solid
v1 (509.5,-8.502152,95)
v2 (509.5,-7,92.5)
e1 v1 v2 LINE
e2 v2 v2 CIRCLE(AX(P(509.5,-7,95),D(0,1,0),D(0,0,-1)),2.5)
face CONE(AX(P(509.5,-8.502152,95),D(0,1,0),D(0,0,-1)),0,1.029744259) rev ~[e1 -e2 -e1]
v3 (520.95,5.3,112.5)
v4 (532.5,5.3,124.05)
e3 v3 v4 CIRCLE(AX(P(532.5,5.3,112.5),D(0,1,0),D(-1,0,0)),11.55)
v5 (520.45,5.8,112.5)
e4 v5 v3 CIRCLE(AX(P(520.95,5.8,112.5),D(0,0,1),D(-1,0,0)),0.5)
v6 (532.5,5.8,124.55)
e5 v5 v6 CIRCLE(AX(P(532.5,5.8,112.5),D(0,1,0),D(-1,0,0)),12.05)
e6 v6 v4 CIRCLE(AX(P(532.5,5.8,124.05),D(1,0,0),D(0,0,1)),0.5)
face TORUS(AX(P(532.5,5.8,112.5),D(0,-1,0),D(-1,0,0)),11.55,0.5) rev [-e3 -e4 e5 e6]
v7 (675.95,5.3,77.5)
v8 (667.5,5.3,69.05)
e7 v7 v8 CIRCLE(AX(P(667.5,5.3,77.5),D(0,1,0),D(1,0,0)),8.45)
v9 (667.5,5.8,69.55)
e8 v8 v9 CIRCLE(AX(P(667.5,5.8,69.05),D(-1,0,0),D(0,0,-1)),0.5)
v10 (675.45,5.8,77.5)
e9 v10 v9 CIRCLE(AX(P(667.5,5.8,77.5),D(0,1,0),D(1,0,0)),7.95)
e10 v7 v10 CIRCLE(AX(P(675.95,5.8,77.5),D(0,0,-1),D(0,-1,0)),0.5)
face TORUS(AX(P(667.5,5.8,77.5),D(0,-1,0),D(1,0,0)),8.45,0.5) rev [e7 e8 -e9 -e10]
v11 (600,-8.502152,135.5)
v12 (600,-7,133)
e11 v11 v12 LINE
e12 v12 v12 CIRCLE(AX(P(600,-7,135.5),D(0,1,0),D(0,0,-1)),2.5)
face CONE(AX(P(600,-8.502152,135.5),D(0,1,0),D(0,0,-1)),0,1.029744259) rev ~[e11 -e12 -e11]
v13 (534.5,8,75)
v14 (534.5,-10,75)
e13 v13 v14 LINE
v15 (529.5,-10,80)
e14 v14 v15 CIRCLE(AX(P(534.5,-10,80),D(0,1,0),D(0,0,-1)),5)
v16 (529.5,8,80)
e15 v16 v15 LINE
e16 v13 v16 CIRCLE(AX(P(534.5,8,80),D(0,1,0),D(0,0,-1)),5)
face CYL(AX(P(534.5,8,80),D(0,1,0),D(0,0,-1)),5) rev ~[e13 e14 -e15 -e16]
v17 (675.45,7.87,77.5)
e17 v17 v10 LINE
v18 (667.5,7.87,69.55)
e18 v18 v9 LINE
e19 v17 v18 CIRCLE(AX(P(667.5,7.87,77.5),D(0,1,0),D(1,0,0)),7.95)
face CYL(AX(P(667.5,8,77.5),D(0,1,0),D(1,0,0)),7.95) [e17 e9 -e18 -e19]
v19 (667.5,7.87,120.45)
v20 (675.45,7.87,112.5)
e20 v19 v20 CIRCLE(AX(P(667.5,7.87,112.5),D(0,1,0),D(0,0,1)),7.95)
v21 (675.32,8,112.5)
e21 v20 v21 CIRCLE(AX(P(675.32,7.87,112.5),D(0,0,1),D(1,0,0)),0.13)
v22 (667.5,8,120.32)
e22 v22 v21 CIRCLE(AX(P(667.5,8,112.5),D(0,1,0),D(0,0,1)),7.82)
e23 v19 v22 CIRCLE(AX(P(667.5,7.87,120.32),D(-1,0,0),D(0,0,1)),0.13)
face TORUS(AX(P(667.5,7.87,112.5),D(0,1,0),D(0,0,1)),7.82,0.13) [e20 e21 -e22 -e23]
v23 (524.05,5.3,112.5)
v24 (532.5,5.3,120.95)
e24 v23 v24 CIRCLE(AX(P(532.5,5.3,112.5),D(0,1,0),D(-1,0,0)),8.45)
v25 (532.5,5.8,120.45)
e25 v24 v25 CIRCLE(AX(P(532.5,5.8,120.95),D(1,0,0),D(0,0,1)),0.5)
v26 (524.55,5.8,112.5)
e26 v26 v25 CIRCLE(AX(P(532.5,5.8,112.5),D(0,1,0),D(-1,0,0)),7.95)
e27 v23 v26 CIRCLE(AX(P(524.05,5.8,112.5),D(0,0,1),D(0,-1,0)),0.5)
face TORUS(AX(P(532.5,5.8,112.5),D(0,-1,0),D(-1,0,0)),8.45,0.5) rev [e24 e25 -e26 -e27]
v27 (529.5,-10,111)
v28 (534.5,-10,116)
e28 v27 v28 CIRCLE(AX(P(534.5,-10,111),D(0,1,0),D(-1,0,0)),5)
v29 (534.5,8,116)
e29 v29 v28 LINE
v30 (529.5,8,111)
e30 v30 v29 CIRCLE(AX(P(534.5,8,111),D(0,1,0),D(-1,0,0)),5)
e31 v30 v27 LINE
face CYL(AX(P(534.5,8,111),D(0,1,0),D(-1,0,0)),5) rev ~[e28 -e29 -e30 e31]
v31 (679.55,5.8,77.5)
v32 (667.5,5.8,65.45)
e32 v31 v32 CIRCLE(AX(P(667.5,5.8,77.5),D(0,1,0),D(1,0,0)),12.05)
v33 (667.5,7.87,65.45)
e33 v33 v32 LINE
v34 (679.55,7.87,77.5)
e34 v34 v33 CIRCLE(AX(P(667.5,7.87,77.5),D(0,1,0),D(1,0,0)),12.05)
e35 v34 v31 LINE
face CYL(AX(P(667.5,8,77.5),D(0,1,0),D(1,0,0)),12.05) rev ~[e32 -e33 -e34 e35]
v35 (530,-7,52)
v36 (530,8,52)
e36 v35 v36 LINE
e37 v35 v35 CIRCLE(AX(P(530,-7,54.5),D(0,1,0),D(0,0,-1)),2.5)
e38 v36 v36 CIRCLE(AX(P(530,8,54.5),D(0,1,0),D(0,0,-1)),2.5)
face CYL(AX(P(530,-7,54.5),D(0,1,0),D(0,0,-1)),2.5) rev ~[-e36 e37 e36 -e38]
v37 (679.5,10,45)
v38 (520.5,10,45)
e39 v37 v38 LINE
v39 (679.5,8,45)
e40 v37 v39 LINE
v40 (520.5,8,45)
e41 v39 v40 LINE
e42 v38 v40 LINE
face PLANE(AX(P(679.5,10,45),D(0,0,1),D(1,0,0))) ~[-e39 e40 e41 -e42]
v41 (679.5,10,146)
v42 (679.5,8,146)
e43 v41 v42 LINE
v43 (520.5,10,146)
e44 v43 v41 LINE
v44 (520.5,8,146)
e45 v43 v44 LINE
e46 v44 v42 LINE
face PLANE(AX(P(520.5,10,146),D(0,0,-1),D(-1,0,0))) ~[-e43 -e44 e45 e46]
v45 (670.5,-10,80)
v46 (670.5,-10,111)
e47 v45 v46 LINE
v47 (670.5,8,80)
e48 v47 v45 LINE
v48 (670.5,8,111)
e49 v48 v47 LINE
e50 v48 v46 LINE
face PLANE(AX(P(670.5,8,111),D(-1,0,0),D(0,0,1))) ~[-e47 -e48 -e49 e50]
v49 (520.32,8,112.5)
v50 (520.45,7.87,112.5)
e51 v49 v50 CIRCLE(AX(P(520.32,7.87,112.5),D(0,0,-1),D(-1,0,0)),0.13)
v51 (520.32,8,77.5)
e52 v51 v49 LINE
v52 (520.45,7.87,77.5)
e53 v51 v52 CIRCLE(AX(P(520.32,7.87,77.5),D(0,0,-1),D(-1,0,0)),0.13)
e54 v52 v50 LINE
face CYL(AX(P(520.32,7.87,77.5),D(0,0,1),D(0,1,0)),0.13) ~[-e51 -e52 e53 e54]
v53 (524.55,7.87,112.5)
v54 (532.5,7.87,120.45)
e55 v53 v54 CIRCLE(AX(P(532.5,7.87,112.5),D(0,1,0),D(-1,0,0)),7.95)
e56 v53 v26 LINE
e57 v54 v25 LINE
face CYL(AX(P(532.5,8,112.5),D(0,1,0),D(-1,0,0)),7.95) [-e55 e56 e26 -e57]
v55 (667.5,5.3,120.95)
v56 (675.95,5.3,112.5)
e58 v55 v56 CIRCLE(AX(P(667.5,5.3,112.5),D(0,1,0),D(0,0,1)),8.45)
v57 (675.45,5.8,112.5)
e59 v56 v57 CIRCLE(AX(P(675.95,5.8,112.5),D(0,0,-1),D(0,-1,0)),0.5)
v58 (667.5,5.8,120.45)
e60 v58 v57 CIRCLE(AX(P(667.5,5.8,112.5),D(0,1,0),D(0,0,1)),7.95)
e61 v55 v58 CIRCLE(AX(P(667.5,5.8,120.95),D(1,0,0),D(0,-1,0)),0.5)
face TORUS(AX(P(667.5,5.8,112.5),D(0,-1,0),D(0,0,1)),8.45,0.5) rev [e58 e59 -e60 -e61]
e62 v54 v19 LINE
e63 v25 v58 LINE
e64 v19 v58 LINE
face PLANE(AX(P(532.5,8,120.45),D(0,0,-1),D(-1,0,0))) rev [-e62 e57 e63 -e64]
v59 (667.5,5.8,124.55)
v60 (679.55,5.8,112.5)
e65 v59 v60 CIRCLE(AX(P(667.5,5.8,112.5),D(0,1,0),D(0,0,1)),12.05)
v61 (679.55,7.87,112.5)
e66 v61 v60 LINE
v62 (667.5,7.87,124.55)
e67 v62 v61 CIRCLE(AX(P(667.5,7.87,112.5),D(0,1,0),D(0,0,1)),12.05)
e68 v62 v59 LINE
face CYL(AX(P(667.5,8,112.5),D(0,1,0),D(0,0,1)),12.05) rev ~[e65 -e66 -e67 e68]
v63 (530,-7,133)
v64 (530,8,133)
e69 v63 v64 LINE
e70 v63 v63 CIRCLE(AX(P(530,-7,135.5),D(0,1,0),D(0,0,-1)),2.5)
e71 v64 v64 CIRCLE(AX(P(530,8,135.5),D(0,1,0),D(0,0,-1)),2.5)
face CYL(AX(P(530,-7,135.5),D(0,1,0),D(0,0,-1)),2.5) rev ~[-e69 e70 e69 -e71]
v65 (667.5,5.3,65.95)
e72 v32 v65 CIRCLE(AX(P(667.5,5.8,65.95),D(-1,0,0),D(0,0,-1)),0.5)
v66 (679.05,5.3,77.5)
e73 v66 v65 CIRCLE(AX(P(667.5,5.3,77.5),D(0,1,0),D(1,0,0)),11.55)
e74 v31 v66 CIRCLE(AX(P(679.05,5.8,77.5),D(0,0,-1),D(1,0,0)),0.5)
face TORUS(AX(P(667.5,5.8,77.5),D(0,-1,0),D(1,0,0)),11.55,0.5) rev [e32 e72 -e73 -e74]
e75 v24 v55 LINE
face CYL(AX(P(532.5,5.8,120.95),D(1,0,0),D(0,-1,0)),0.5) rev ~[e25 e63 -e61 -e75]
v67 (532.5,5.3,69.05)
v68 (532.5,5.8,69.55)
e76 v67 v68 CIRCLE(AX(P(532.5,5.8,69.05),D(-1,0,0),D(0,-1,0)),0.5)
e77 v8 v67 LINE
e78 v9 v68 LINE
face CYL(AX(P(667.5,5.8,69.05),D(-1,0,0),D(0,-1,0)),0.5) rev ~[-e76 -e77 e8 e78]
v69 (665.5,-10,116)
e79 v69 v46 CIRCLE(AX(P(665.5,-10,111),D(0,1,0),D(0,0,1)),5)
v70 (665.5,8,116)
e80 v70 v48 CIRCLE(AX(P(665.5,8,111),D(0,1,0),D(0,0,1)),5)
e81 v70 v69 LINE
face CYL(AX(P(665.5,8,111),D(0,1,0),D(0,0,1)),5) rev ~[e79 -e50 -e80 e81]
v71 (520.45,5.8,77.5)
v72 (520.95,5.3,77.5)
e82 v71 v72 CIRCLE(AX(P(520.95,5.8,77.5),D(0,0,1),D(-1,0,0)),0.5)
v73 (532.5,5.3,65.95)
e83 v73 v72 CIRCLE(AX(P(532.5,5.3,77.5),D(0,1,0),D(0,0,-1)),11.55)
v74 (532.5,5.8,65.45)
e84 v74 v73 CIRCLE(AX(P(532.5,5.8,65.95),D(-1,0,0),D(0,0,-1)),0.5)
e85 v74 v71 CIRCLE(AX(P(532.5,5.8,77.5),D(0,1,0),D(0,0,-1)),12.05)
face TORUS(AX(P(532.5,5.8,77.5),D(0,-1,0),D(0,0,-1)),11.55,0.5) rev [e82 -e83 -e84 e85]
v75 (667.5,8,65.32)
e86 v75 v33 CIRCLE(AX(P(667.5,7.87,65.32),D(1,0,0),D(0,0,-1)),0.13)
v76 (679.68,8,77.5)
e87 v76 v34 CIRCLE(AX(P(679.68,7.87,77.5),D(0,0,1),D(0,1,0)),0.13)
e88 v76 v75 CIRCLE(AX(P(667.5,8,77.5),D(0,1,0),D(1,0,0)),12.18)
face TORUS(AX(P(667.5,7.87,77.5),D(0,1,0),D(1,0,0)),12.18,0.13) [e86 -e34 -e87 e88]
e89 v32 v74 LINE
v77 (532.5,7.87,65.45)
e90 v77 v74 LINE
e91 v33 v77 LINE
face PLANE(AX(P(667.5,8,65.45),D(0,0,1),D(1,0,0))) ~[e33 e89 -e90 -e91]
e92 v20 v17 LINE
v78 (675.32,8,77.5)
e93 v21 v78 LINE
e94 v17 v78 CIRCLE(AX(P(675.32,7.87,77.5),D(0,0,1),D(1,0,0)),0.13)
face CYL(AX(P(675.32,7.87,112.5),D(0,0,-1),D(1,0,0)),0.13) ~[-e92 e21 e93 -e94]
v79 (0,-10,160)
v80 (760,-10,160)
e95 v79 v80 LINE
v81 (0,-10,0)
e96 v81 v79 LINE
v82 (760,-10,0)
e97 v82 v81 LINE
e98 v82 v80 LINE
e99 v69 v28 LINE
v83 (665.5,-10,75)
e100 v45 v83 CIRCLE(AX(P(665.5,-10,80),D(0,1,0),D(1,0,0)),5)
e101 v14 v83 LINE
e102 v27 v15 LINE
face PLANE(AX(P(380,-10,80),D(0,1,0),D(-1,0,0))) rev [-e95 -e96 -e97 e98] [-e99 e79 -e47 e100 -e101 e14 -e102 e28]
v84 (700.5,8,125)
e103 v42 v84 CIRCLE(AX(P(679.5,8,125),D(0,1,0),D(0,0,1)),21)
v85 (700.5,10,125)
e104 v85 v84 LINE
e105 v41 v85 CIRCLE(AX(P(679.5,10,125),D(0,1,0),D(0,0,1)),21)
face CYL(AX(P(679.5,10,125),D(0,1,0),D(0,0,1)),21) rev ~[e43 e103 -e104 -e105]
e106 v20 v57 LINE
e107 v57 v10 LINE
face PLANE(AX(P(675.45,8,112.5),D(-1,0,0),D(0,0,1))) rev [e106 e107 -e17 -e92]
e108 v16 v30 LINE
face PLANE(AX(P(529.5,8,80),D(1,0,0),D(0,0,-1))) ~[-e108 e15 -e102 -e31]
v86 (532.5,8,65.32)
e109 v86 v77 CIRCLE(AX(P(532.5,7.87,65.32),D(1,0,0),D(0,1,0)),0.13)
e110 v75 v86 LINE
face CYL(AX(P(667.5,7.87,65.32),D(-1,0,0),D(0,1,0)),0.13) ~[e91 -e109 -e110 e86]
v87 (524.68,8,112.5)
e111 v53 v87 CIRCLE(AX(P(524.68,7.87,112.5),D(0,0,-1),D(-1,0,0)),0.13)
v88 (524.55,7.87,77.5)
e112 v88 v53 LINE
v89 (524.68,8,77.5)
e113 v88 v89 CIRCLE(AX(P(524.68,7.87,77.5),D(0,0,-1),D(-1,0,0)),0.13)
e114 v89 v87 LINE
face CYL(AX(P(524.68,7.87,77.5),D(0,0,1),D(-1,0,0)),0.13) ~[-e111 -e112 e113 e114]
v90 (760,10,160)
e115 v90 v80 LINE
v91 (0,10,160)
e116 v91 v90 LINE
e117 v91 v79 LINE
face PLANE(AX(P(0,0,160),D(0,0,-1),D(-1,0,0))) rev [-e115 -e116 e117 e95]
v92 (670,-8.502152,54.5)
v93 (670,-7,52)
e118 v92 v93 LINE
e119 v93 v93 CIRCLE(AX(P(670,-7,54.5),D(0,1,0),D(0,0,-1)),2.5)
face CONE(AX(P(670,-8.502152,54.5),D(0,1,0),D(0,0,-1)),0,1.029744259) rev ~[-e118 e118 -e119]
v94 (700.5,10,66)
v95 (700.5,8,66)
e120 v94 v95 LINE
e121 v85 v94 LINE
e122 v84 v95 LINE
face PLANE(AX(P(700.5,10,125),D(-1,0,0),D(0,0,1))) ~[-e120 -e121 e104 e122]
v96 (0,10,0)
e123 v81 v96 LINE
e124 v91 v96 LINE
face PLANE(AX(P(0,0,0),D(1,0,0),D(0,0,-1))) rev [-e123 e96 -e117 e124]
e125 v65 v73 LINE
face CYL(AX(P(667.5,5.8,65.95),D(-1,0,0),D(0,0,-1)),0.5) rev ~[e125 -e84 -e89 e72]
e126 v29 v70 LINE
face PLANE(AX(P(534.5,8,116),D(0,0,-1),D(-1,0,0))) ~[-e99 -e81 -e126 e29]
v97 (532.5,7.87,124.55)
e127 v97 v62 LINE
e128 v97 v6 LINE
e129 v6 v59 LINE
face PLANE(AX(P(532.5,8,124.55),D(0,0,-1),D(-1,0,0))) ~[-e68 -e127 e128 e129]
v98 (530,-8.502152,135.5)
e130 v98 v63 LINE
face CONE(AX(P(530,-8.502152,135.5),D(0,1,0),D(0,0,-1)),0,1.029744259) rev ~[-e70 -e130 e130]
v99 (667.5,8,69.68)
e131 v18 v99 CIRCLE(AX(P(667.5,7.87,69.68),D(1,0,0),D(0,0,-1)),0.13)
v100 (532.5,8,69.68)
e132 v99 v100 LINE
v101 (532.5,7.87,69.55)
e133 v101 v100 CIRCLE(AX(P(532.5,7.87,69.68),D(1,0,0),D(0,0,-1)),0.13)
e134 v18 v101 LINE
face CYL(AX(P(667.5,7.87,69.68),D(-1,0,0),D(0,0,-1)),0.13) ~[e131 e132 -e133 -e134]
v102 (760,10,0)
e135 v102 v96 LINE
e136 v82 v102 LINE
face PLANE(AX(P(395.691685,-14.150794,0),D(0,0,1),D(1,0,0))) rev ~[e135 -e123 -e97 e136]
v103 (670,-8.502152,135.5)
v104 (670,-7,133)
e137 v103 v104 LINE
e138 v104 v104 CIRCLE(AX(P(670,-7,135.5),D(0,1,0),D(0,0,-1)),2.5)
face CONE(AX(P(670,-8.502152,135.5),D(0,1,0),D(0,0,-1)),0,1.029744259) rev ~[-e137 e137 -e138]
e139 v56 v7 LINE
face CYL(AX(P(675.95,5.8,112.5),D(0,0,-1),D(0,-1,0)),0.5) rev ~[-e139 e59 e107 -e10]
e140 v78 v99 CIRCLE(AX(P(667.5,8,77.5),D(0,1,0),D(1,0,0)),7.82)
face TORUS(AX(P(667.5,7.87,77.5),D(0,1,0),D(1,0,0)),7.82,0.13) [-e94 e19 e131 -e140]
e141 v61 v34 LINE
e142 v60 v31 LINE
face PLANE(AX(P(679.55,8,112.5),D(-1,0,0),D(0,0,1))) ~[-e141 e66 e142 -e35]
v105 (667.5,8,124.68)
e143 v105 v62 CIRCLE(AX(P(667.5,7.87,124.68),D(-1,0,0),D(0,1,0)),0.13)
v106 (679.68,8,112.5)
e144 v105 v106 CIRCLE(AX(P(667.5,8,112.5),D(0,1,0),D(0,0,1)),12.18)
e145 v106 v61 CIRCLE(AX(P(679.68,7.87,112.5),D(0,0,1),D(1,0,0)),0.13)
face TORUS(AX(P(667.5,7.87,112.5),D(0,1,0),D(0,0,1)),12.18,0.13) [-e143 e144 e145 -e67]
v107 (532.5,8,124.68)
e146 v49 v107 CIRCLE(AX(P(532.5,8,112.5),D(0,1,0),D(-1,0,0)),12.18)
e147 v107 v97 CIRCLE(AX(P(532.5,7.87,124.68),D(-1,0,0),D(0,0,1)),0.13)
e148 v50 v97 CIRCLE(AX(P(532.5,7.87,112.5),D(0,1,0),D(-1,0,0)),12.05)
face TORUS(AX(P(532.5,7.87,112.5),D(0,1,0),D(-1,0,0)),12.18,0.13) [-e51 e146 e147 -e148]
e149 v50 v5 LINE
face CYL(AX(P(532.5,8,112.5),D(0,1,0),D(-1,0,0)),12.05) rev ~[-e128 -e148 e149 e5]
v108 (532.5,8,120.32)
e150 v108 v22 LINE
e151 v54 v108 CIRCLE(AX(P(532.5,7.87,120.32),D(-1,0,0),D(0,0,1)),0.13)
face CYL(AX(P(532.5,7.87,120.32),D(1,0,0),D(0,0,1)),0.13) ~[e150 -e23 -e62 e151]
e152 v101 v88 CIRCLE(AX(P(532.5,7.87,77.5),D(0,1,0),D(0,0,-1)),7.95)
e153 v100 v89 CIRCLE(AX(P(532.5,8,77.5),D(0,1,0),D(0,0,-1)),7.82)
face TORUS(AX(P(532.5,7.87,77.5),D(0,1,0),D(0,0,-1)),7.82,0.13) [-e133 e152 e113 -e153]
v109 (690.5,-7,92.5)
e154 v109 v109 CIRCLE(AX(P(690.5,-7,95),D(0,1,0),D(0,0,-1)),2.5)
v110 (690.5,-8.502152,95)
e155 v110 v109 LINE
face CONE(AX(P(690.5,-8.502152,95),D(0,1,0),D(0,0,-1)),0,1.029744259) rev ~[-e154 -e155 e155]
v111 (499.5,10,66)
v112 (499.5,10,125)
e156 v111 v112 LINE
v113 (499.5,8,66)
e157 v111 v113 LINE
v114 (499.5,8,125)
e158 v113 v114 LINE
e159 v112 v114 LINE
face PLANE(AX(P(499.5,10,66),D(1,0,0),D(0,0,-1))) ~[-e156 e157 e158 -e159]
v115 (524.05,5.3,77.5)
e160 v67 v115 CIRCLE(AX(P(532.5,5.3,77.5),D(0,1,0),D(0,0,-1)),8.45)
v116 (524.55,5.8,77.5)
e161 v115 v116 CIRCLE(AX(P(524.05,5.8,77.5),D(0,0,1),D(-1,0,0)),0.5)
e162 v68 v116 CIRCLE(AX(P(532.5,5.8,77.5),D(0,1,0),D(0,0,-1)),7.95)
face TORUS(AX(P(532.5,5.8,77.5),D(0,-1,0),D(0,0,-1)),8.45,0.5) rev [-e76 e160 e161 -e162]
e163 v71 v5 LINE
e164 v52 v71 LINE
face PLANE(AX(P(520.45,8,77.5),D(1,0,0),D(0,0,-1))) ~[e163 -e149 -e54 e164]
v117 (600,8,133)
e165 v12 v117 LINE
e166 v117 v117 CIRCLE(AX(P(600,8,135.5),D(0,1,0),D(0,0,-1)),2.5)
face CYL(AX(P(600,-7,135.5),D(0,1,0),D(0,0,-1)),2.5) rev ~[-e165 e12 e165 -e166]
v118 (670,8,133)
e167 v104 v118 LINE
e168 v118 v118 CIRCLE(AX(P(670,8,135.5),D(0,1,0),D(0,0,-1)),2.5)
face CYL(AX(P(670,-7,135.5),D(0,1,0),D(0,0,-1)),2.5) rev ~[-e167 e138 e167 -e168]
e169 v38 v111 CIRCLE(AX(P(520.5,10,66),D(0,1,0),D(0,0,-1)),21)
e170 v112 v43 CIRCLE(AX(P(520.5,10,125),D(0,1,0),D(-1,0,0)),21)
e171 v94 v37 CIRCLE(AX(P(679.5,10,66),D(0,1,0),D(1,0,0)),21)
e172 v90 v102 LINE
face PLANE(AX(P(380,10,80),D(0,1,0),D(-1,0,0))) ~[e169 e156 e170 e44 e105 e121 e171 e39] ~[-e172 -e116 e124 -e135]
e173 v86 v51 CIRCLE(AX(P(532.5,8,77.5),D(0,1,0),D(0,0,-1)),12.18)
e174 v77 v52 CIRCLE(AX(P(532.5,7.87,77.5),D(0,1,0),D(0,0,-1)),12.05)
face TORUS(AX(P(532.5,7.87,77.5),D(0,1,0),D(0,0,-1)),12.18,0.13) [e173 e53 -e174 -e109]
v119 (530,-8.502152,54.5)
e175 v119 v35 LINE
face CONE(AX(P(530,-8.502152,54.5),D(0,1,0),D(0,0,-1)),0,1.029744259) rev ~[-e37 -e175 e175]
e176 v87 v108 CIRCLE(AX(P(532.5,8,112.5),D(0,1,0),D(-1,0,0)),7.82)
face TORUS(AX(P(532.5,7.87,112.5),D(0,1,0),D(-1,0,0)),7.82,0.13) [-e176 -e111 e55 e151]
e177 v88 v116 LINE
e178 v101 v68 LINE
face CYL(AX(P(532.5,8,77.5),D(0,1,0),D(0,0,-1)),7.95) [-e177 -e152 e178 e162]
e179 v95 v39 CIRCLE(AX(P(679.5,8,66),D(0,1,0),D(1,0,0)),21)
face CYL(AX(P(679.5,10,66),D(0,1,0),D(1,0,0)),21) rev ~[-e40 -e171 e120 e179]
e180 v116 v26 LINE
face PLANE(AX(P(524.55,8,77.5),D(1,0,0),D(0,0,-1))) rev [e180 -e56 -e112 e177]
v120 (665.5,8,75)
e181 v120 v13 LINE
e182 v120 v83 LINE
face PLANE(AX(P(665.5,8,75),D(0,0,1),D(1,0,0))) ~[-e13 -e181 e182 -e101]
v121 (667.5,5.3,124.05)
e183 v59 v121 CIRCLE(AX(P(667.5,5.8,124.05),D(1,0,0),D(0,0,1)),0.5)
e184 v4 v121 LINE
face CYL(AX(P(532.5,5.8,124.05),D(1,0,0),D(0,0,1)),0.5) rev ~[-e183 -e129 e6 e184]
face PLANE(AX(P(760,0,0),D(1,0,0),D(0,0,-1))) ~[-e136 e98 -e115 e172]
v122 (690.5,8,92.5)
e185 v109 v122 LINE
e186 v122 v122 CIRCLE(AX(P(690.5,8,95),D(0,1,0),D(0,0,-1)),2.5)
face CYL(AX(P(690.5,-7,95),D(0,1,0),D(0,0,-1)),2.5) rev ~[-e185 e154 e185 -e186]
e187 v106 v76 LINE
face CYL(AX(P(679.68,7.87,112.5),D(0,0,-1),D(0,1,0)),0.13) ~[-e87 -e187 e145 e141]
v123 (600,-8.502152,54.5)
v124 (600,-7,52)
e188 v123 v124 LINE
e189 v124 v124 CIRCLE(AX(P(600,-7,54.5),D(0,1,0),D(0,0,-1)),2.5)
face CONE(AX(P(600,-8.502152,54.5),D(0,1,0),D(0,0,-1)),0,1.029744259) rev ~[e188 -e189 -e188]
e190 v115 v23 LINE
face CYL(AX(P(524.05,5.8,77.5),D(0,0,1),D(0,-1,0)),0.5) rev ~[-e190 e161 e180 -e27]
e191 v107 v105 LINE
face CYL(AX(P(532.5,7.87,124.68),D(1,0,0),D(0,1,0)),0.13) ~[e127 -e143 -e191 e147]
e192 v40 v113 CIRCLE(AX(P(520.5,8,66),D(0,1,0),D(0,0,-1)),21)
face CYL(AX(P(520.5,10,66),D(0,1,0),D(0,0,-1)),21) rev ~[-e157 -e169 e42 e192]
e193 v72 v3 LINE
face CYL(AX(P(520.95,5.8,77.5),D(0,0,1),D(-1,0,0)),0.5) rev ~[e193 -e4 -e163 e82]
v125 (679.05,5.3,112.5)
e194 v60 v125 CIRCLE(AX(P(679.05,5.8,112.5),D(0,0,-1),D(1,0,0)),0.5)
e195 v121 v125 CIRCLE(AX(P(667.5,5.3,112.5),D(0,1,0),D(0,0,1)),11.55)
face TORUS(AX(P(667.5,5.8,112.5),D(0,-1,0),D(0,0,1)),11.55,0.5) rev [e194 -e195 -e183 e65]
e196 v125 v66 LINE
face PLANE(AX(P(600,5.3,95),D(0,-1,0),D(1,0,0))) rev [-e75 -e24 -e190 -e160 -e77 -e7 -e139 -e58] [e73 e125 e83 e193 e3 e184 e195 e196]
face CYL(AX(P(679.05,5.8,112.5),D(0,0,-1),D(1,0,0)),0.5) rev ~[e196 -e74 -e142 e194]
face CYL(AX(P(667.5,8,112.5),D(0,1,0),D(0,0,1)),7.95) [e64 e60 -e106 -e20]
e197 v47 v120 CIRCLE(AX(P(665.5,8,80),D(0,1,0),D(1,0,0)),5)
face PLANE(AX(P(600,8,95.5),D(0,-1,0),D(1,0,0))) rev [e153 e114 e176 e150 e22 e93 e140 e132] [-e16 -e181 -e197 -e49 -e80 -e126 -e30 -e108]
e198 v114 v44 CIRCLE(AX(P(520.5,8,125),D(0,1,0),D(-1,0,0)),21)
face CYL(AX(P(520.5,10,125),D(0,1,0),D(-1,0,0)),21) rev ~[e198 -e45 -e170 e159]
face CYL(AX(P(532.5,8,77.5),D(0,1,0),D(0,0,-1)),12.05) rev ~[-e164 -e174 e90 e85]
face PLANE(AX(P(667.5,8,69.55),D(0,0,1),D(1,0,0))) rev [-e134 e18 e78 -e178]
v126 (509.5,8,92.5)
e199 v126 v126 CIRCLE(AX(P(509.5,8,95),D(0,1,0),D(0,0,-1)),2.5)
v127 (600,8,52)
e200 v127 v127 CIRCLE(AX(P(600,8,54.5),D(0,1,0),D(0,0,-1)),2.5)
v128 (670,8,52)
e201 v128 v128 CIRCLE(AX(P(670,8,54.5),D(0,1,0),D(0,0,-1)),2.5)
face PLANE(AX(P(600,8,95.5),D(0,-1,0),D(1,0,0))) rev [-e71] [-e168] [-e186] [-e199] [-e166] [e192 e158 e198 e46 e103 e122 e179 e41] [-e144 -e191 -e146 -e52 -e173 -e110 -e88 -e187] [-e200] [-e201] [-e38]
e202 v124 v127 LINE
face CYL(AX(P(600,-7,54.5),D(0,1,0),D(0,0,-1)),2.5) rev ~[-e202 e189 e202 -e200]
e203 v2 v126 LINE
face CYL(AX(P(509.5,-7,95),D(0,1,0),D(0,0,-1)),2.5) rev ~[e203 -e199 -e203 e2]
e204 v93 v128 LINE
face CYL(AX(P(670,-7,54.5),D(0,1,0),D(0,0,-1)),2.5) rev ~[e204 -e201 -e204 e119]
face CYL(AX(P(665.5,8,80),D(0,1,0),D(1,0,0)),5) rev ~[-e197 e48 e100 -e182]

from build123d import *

# Parameters (mm, degrees)
SKETCH_1_W                  = 760
SKETCH_1_H                  = 160
EXTRUDE_1_DEPTH             = 10
SKETCH_2_R                  = 19
CUT_EXTRUDE_1_DEPTH         = 777.916983982
CUT_EXTRUDE_2_DEPTH         = 2
CUT_EXTRUDE_4_DEPTH         = 2.7
CUT_EXTRUDE_5_DEPTH         = 777.868071168
HOLE_WIZARD_M6_1_AT_2_COUNT = 2
HOLE_WIZARD_M6_1_AT_2_PITCH = 70
HOLE_WIZARD_M6_1_AT_3_COUNT = 2
HOLE_WIZARD_M6_1_AT_3_PITCH = 140
HOLE_WIZARD_M6_1_AT_4_COUNT = 2
HOLE_WIZARD_M6_1_AT_4_PITCH = 161.743624295
HOLE_WIZARD_M6_1_AT_5_COUNT = 2
HOLE_WIZARD_M6_1_AT_5_PITCH = 107.056060081
HOLE_WIZARD_M6_1_AT_6_COUNT = 2
HOLE_WIZARD_M6_1_AT_6_PITCH = 81
HOLE_WIZARD_M6_1_AT_7_COUNT = 2
HOLE_WIZARD_M6_1_AT_7_PITCH = 45.392730696
HOLE_WIZARD_M6_1_AT_8_COUNT = 2
HOLE_WIZARD_M6_1_AT_8_PITCH = 165.530963871
FILLET_1_R                  = 0.13
FILLET_2_R                  = 0.5
FILLET_3_R                  = 0.5
FILLET_4_R                  = 0.13
SKETCH_8_W                  = 211.597975829
SKETCH_8_H                  = 104.563980274
EXTRUDE_3_DEPTH             = 20
FILLET_1_OF_MIRROR_2_R      = 0.13
FILLET_2_OF_MIRROR_2_R      = 0.5
FILLET_3_OF_MIRROR_2_R      = 0.5
FILLET_4_OF_MIRROR_2_R      = 0.13
SKETCH_9_W                  = 824.574346591
SKETCH_9_H                  = 126.258075754
CUT_EXTRUDE_6_DEPTH         = 777.723889165


with BuildPart() as part:
    # 스케치1 → 보스-돌출1 (new, symmetric)
    with BuildSketch(Plane(origin=(0, 0, 0), x_dir=(1, 0, 0), z_dir=(0, 1, 0))):
        with Locations((380, 80)):
            Rectangle(SKETCH_1_W, SKETCH_1_H)
    extrude_1 = extrude(amount=EXTRUDE_1_DEPTH, both=True)

    # 스케치2 → 컷-돌출1 (cut, through all)
    with BuildSketch(Plane(origin=(0, 10, 0), x_dir=(1, 0, 0), z_dir=(0, 1, 0))):
        with Locations(Location((280, 80, 0), (0, 0, 270))):
            Circle(SKETCH_2_R)
        with Locations(Location((380, 80, 0), (0, 0, 270))):
            Circle(SKETCH_2_R)
    cut_extrude_1 = extrude(amount=-CUT_EXTRUDE_1_DEPTH, mode=Mode.SUBTRACT)

    # 스케치3 → 컷-돌출2 (cut)
    with BuildSketch(Plane(origin=(0, 10, 0), x_dir=(1, 0, 0), z_dir=(0, 1, 0))):
        with BuildLine():
            Line((520.5, 146), (679.5, 146))
            ThreePointArc((679.5, 146), (694.349242405, 139.849242405), (700.5, 125))
            Line((700.5, 125), (700.5, 66))
            ThreePointArc((700.5, 66), (694.349242405, 51.150757595), (679.5, 45))
            Line((679.5, 45), (520.5, 45))
            ThreePointArc((520.5, 45), (505.650757595, 51.150757595), (499.5, 66))
            Line((499.5, 66), (499.5, 125))
            ThreePointArc((499.5, 125), (505.650757595, 139.849242405), (520.5, 146))
        make_face()
    cut_extrude_2 = extrude(amount=-CUT_EXTRUDE_2_DEPTH, mode=Mode.SUBTRACT)

    # 스케치4 → 컷-돌출4 (cut)
    with BuildSketch(Plane(origin=(0, 8, 0), x_dir=(1, 0, 0), z_dir=(0, 1, 0))):
        with BuildLine():
            Line((532.5, 124.55), (667.5, 124.55))
            ThreePointArc((667.5, 124.55), (676.020636713, 121.020636713), (679.55, 112.5))
            Line((679.55, 112.5), (679.55, 77.5))
            ThreePointArc((679.55, 77.5), (676.020636713, 68.979363287), (667.5, 65.45))
            Line((667.5, 65.45), (532.5, 65.45))
            ThreePointArc((532.5, 65.45), (523.979363287, 68.979363287), (520.45, 77.5))
            Line((520.45, 77.5), (520.45, 112.5))
            ThreePointArc((520.45, 112.5), (523.979363287, 121.020636713), (532.5, 124.55))
        make_face()
        with BuildLine():
            Line((532.5, 120.45), (667.5, 120.45))
            ThreePointArc((667.5, 120.45), (673.12149891, 118.12149891), (675.45, 112.5))
            Line((675.45, 112.5), (675.45, 77.5))
            ThreePointArc((675.45, 77.5), (673.12149891, 71.87850109), (667.5, 69.55))
            Line((667.5, 69.55), (532.5, 69.55))
            ThreePointArc((532.5, 69.55), (526.87850109, 71.87850109), (524.55, 77.5))
            Line((524.55, 77.5), (524.55, 112.5))
            ThreePointArc((524.55, 112.5), (526.87850109, 118.12149891), (532.5, 120.45))
        make_face(mode=Mode.SUBTRACT)
    cut_extrude_4 = extrude(amount=-CUT_EXTRUDE_4_DEPTH, mode=Mode.SUBTRACT)

    # 스케치5 → 컷-돌출5 (cut, through all)
    with BuildSketch(Plane(origin=(0, 8, 0), x_dir=(1, 0, 0), z_dir=(0, 1, 0))):
        with BuildLine():
            Line((534.5, 116), (665.5, 116))
            ThreePointArc((665.5, 116), (669.035533906, 114.535533906), (670.5, 111))
            Line((670.5, 111), (670.5, 80))
            ThreePointArc((670.5, 80), (669.035533906, 76.464466094), (665.5, 75))
            Line((665.5, 75), (534.5, 75))
            ThreePointArc((534.5, 75), (530.964466094, 76.464466094), (529.5, 80))
            Line((529.5, 80), (529.5, 111))
            ThreePointArc((529.5, 111), (530.964466094, 114.535533906), (534.5, 116))
        make_face()
    cut_extrude_5 = extrude(amount=-CUT_EXTRUDE_5_DEPTH, mode=Mode.SUBTRACT)

    # 스케치7 → M6 나사 구멍1 (revolve, cut)
    with BuildSketch(Plane(origin=(530, 8, -135.5), x_dir=(0, 0, 1), z_dir=(1, 0, 0))):
        Polygon((0, 0), (0, 16.502151548), (2.5, 15), (2.5, 0), align=None)
    hole_wizard_m6_1 = revolve(axis=Axis((530, 14.35, -135.5), (0, -1, 0)), mode=Mode.SUBTRACT)

    # M6 나사 구멍1 at 2: M6 나사 구멍1 ×2
    with Locations(*[(i * HOLE_WIZARD_M6_1_AT_2_PITCH, 0, 0) for i in range(1, HOLE_WIZARD_M6_1_AT_2_COUNT)]):
        add(hole_wizard_m6_1, mode=Mode.SUBTRACT)

    # M6 나사 구멍1 at 3: M6 나사 구멍1 ×2
    with Locations(*[(i * HOLE_WIZARD_M6_1_AT_3_PITCH, 0, 0) for i in range(1, HOLE_WIZARD_M6_1_AT_3_COUNT)]):
        add(hole_wizard_m6_1, mode=Mode.SUBTRACT)

    # M6 나사 구멍1 at 4: M6 나사 구멍1 ×2
    with Locations(*[Vector(0.8655673483912874, 0, 0.5007925372835301) * (i * HOLE_WIZARD_M6_1_AT_4_PITCH) for i in range(1, HOLE_WIZARD_M6_1_AT_4_COUNT)]):
        add(hole_wizard_m6_1, mode=Mode.SUBTRACT)

    # M6 나사 구멍1 at 5: M6 나사 구멍1 ×2
    with Locations(*[Vector(0.6538630316419342, 0, 0.7566129366142368) * (i * HOLE_WIZARD_M6_1_AT_5_PITCH) for i in range(1, HOLE_WIZARD_M6_1_AT_5_COUNT)]):
        add(hole_wizard_m6_1, mode=Mode.SUBTRACT)

    # M6 나사 구멍1 at 6: M6 나사 구멍1 ×2
    with Locations(*[(0, 0, i * HOLE_WIZARD_M6_1_AT_6_PITCH) for i in range(1, HOLE_WIZARD_M6_1_AT_6_COUNT)]):
        add(hole_wizard_m6_1, mode=Mode.SUBTRACT)

    # M6 나사 구멍1 at 7: M6 나사 구멍1 ×2
    with Locations(*[Vector(-0.45161416125166726, 0, 0.8922133429606134) * (i * HOLE_WIZARD_M6_1_AT_7_PITCH) for i in range(1, HOLE_WIZARD_M6_1_AT_7_COUNT)]):
        add(hole_wizard_m6_1, mode=Mode.SUBTRACT)

    # M6 나사 구멍1 at 8: M6 나사 구멍1 ×2
    with Locations(*[Vector(0.9696071130550645, 0, 0.24466721544380116) * (i * HOLE_WIZARD_M6_1_AT_8_PITCH) for i in range(1, HOLE_WIZARD_M6_1_AT_8_COUNT)]):
        add(hole_wizard_m6_1, mode=Mode.SUBTRACT)

    # 필렛1
    fillet_1_edges = [part.edges().sort_by_distance(p)[0] for p in [
        (523.979363287, 8, -121.020636713),
        (520.45, 8, -95),
        (523.979363287, 8, -68.979363287),
        (600, 8, -65.45),
        (676.020636713, 8, -68.979363287),
        (679.55, 8, -95),
        (676.020636713, 8, -121.020636713),
        (600, 8, -124.55),
    ]]
    fillet(fillet_1_edges, radius=FILLET_1_R)

    # 필렛2
    fillet_2_edges = [part.edges().sort_by_distance(p)[0] for p in [
        (523.979363287, 5.3, -121.020636713),
        (600, 5.3, -124.55),
        (676.020636713, 5.3, -121.020636713),
        (679.55, 5.3, -95),
        (676.020636713, 5.3, -68.979363287),
        (600, 5.3, -65.45),
        (523.979363287, 5.3, -68.979363287),
        (520.45, 5.3, -95),
    ]]
    fillet(fillet_2_edges, radius=FILLET_2_R)

    # 필렛3
    fillet_3_edges = [part.edges().sort_by_distance(p)[0] for p in [
        (675.45, 5.3, -95),
        (673.12149891, 5.3, -118.12149891),
        (600, 5.3, -120.45),
        (526.87850109, 5.3, -118.12149891),
        (524.55, 5.3, -95),
        (526.87850109, 5.3, -71.87850109),
        (600, 5.3, -69.55),
        (673.12149891, 5.3, -71.87850109),
    ]]
    fillet(fillet_3_edges, radius=FILLET_3_R)

    # 필렛4
    fillet_4_edges = [part.edges().sort_by_distance(p)[0] for p in [
        (673.12149891, 8, -118.12149891),
        (675.45, 8, -95),
        (673.12149891, 8, -71.87850109),
        (600, 8, -69.55),
        (526.87850109, 8, -71.87850109),
        (524.55, 8, -95),
        (526.87850109, 8, -118.12149891),
        (600, 8, -120.45),
    ]]
    fillet(fillet_4_edges, radius=FILLET_4_R)

    # 스케치8 → 보스-돌출3 (add)
    with BuildSketch(Plane(origin=(0, 10, 0), x_dir=(1, 0, 0), z_dir=(0, 1, 0))):
        with Locations((324.424656153, 80)):
            Rectangle(SKETCH_8_W, SKETCH_8_H)
    extrude_3 = extrude(amount=-EXTRUDE_3_DEPTH)

    # 대칭 복사2: 보스-돌출1, 컷-돌출1, 컷-돌출2, 컷-돌출4, 컷-돌출5, M6 나사 구멍1, 보스-돌출3 across Front Plane
    add(extrude_1.mirror(Plane.XY))
    add(cut_extrude_1.mirror(Plane.XY), mode=Mode.SUBTRACT)
    add(cut_extrude_2.mirror(Plane.XY), mode=Mode.SUBTRACT)
    add(cut_extrude_4.mirror(Plane.XY), mode=Mode.SUBTRACT)
    add(cut_extrude_5.mirror(Plane.XY), mode=Mode.SUBTRACT)
    add(hole_wizard_m6_1.mirror(Plane.XY), mode=Mode.SUBTRACT)
    add(extrude_3.mirror(Plane.XY))

    # 대칭 복사2 copy 1 sketch → 대칭 복사2 copy 1 (revolve, cut)
    with BuildSketch(Plane(origin=(600, 8, 135.5), x_dir=(0, 0, -1), z_dir=(1, 0, 0))):
        Polygon((0, 0), (0, -16.502151548), (2.5, -15), (2.5, 0), align=None)
    revolve(axis=Axis((600, 14.35, 135.5), (0, 1, 0)), mode=Mode.SUBTRACT)

    # 대칭 복사2 copy 2 sketch → 대칭 복사2 copy 2 (revolve, cut)
    with BuildSketch(Plane(origin=(670, 8, 135.5), x_dir=(0, 0, -1), z_dir=(1, 0, 0))):
        Polygon((0, 0), (0, -16.502151548), (2.5, -15), (2.5, 0), align=None)
    revolve(axis=Axis((670, 14.35, 135.5), (0, 1, 0)), mode=Mode.SUBTRACT)

    # 대칭 복사2 copy 3 sketch → 대칭 복사2 copy 3 (revolve, cut)
    with BuildSketch(Plane(origin=(670, 8, 54.5), x_dir=(0, 0, -1), z_dir=(1, 0, 0))):
        Polygon((0, 0), (0, -16.502151548), (2.5, -15), (2.5, 0), align=None)
    revolve(axis=Axis((670, 14.35, 54.5), (0, 1, 0)), mode=Mode.SUBTRACT)

    # 대칭 복사2 copy 4 sketch → 대칭 복사2 copy 4 (revolve, cut)
    with BuildSketch(Plane(origin=(600, 8, 54.5), x_dir=(0, 0, -1), z_dir=(1, 0, 0))):
        Polygon((0, 0), (0, -16.502151548), (2.5, -15), (2.5, 0), align=None)
    revolve(axis=Axis((600, 14.35, 54.5), (0, 1, 0)), mode=Mode.SUBTRACT)

    # 대칭 복사2 copy 5 sketch → 대칭 복사2 copy 5 (revolve, cut)
    with BuildSketch(Plane(origin=(530, 8, 54.5), x_dir=(0, 0, -1), z_dir=(1, 0, 0))):
        Polygon((0, 0), (0, -16.502151548), (2.5, -15), (2.5, 0), align=None)
    revolve(axis=Axis((530, 14.35, 54.5), (0, 1, 0)), mode=Mode.SUBTRACT)

    # 대칭 복사2 copy 6 sketch → 대칭 복사2 copy 6 (revolve, cut)
    with BuildSketch(Plane(origin=(509.5, 8, 95), x_dir=(0, 0, -1), z_dir=(1, 0, 0))):
        Polygon((0, 0), (0, -16.502151548), (2.5, -15), (2.5, 0), align=None)
    revolve(axis=Axis((509.5, 14.35, 95), (0, 1, 0)), mode=Mode.SUBTRACT)

    # 대칭 복사2 copy 7 sketch → 대칭 복사2 copy 7 (revolve, cut)
    with BuildSketch(Plane(origin=(690.5, 8, 95), x_dir=(0, 0, -1), z_dir=(1, 0, 0))):
        Polygon((0, 0), (0, -16.502151548), (2.5, -15), (2.5, 0), align=None)
    revolve(axis=Axis((690.5, 14.35, 95), (0, 1, 0)), mode=Mode.SUBTRACT)

    # 필렛1 of 대칭 복사2
    fillet_1_of_mirror_2_edges = [part.edges().sort_by_distance(p)[0] for p in [
        (523.979363287, 8, 121.020636713),
        (520.45, 8, 95),
        (523.979363287, 8, 68.979363287),
        (600, 8, 65.45),
        (676.020636713, 8, 68.979363287),
        (679.55, 8, 95),
        (676.020636713, 8, 121.020636713),
        (600, 8, 124.55),
    ]]
    fillet(fillet_1_of_mirror_2_edges, radius=FILLET_1_OF_MIRROR_2_R)

    # 필렛2 of 대칭 복사2
    fillet_2_of_mirror_2_edges = [part.edges().sort_by_distance(p)[0] for p in [
        (523.979363287, 5.3, 121.020636713),
        (600, 5.3, 124.55),
        (676.020636713, 5.3, 121.020636713),
        (679.55, 5.3, 95),
        (676.020636713, 5.3, 68.979363287),
        (600, 5.3, 65.45),
        (523.979363287, 5.3, 68.979363287),
        (520.45, 5.3, 95),
    ]]
    fillet(fillet_2_of_mirror_2_edges, radius=FILLET_2_OF_MIRROR_2_R)

    # 필렛3 of 대칭 복사2
    fillet_3_of_mirror_2_edges = [part.edges().sort_by_distance(p)[0] for p in [
        (675.45, 5.3, 95),
        (673.12149891, 5.3, 118.12149891),
        (600, 5.3, 120.45),
        (526.87850109, 5.3, 118.12149891),
        (524.55, 5.3, 95),
        (526.87850109, 5.3, 71.87850109),
        (600, 5.3, 69.55),
        (673.12149891, 5.3, 71.87850109),
    ]]
    fillet(fillet_3_of_mirror_2_edges, radius=FILLET_3_OF_MIRROR_2_R)

    # 필렛4 of 대칭 복사2
    fillet_4_of_mirror_2_edges = [part.edges().sort_by_distance(p)[0] for p in [
        (673.12149891, 8, 118.12149891),
        (675.45, 8, 95),
        (673.12149891, 8, 71.87850109),
        (600, 8, 69.55),
        (526.87850109, 8, 71.87850109),
        (524.55, 8, 95),
        (526.87850109, 8, 118.12149891),
        (600, 8, 120.45),
    ]]
    fillet(fillet_4_of_mirror_2_edges, radius=FILLET_4_OF_MIRROR_2_R)

    # 스케치9 → 컷-돌출6 (cut, through all)
    with BuildSketch(Plane.XY):
        with Locations((395.691684997, -14.150794121)):
            Rectangle(SKETCH_9_W, SKETCH_9_H)
    extrude(amount=-CUT_EXTRUDE_6_DEPTH, mode=Mode.SUBTRACT)


solid = part.part
